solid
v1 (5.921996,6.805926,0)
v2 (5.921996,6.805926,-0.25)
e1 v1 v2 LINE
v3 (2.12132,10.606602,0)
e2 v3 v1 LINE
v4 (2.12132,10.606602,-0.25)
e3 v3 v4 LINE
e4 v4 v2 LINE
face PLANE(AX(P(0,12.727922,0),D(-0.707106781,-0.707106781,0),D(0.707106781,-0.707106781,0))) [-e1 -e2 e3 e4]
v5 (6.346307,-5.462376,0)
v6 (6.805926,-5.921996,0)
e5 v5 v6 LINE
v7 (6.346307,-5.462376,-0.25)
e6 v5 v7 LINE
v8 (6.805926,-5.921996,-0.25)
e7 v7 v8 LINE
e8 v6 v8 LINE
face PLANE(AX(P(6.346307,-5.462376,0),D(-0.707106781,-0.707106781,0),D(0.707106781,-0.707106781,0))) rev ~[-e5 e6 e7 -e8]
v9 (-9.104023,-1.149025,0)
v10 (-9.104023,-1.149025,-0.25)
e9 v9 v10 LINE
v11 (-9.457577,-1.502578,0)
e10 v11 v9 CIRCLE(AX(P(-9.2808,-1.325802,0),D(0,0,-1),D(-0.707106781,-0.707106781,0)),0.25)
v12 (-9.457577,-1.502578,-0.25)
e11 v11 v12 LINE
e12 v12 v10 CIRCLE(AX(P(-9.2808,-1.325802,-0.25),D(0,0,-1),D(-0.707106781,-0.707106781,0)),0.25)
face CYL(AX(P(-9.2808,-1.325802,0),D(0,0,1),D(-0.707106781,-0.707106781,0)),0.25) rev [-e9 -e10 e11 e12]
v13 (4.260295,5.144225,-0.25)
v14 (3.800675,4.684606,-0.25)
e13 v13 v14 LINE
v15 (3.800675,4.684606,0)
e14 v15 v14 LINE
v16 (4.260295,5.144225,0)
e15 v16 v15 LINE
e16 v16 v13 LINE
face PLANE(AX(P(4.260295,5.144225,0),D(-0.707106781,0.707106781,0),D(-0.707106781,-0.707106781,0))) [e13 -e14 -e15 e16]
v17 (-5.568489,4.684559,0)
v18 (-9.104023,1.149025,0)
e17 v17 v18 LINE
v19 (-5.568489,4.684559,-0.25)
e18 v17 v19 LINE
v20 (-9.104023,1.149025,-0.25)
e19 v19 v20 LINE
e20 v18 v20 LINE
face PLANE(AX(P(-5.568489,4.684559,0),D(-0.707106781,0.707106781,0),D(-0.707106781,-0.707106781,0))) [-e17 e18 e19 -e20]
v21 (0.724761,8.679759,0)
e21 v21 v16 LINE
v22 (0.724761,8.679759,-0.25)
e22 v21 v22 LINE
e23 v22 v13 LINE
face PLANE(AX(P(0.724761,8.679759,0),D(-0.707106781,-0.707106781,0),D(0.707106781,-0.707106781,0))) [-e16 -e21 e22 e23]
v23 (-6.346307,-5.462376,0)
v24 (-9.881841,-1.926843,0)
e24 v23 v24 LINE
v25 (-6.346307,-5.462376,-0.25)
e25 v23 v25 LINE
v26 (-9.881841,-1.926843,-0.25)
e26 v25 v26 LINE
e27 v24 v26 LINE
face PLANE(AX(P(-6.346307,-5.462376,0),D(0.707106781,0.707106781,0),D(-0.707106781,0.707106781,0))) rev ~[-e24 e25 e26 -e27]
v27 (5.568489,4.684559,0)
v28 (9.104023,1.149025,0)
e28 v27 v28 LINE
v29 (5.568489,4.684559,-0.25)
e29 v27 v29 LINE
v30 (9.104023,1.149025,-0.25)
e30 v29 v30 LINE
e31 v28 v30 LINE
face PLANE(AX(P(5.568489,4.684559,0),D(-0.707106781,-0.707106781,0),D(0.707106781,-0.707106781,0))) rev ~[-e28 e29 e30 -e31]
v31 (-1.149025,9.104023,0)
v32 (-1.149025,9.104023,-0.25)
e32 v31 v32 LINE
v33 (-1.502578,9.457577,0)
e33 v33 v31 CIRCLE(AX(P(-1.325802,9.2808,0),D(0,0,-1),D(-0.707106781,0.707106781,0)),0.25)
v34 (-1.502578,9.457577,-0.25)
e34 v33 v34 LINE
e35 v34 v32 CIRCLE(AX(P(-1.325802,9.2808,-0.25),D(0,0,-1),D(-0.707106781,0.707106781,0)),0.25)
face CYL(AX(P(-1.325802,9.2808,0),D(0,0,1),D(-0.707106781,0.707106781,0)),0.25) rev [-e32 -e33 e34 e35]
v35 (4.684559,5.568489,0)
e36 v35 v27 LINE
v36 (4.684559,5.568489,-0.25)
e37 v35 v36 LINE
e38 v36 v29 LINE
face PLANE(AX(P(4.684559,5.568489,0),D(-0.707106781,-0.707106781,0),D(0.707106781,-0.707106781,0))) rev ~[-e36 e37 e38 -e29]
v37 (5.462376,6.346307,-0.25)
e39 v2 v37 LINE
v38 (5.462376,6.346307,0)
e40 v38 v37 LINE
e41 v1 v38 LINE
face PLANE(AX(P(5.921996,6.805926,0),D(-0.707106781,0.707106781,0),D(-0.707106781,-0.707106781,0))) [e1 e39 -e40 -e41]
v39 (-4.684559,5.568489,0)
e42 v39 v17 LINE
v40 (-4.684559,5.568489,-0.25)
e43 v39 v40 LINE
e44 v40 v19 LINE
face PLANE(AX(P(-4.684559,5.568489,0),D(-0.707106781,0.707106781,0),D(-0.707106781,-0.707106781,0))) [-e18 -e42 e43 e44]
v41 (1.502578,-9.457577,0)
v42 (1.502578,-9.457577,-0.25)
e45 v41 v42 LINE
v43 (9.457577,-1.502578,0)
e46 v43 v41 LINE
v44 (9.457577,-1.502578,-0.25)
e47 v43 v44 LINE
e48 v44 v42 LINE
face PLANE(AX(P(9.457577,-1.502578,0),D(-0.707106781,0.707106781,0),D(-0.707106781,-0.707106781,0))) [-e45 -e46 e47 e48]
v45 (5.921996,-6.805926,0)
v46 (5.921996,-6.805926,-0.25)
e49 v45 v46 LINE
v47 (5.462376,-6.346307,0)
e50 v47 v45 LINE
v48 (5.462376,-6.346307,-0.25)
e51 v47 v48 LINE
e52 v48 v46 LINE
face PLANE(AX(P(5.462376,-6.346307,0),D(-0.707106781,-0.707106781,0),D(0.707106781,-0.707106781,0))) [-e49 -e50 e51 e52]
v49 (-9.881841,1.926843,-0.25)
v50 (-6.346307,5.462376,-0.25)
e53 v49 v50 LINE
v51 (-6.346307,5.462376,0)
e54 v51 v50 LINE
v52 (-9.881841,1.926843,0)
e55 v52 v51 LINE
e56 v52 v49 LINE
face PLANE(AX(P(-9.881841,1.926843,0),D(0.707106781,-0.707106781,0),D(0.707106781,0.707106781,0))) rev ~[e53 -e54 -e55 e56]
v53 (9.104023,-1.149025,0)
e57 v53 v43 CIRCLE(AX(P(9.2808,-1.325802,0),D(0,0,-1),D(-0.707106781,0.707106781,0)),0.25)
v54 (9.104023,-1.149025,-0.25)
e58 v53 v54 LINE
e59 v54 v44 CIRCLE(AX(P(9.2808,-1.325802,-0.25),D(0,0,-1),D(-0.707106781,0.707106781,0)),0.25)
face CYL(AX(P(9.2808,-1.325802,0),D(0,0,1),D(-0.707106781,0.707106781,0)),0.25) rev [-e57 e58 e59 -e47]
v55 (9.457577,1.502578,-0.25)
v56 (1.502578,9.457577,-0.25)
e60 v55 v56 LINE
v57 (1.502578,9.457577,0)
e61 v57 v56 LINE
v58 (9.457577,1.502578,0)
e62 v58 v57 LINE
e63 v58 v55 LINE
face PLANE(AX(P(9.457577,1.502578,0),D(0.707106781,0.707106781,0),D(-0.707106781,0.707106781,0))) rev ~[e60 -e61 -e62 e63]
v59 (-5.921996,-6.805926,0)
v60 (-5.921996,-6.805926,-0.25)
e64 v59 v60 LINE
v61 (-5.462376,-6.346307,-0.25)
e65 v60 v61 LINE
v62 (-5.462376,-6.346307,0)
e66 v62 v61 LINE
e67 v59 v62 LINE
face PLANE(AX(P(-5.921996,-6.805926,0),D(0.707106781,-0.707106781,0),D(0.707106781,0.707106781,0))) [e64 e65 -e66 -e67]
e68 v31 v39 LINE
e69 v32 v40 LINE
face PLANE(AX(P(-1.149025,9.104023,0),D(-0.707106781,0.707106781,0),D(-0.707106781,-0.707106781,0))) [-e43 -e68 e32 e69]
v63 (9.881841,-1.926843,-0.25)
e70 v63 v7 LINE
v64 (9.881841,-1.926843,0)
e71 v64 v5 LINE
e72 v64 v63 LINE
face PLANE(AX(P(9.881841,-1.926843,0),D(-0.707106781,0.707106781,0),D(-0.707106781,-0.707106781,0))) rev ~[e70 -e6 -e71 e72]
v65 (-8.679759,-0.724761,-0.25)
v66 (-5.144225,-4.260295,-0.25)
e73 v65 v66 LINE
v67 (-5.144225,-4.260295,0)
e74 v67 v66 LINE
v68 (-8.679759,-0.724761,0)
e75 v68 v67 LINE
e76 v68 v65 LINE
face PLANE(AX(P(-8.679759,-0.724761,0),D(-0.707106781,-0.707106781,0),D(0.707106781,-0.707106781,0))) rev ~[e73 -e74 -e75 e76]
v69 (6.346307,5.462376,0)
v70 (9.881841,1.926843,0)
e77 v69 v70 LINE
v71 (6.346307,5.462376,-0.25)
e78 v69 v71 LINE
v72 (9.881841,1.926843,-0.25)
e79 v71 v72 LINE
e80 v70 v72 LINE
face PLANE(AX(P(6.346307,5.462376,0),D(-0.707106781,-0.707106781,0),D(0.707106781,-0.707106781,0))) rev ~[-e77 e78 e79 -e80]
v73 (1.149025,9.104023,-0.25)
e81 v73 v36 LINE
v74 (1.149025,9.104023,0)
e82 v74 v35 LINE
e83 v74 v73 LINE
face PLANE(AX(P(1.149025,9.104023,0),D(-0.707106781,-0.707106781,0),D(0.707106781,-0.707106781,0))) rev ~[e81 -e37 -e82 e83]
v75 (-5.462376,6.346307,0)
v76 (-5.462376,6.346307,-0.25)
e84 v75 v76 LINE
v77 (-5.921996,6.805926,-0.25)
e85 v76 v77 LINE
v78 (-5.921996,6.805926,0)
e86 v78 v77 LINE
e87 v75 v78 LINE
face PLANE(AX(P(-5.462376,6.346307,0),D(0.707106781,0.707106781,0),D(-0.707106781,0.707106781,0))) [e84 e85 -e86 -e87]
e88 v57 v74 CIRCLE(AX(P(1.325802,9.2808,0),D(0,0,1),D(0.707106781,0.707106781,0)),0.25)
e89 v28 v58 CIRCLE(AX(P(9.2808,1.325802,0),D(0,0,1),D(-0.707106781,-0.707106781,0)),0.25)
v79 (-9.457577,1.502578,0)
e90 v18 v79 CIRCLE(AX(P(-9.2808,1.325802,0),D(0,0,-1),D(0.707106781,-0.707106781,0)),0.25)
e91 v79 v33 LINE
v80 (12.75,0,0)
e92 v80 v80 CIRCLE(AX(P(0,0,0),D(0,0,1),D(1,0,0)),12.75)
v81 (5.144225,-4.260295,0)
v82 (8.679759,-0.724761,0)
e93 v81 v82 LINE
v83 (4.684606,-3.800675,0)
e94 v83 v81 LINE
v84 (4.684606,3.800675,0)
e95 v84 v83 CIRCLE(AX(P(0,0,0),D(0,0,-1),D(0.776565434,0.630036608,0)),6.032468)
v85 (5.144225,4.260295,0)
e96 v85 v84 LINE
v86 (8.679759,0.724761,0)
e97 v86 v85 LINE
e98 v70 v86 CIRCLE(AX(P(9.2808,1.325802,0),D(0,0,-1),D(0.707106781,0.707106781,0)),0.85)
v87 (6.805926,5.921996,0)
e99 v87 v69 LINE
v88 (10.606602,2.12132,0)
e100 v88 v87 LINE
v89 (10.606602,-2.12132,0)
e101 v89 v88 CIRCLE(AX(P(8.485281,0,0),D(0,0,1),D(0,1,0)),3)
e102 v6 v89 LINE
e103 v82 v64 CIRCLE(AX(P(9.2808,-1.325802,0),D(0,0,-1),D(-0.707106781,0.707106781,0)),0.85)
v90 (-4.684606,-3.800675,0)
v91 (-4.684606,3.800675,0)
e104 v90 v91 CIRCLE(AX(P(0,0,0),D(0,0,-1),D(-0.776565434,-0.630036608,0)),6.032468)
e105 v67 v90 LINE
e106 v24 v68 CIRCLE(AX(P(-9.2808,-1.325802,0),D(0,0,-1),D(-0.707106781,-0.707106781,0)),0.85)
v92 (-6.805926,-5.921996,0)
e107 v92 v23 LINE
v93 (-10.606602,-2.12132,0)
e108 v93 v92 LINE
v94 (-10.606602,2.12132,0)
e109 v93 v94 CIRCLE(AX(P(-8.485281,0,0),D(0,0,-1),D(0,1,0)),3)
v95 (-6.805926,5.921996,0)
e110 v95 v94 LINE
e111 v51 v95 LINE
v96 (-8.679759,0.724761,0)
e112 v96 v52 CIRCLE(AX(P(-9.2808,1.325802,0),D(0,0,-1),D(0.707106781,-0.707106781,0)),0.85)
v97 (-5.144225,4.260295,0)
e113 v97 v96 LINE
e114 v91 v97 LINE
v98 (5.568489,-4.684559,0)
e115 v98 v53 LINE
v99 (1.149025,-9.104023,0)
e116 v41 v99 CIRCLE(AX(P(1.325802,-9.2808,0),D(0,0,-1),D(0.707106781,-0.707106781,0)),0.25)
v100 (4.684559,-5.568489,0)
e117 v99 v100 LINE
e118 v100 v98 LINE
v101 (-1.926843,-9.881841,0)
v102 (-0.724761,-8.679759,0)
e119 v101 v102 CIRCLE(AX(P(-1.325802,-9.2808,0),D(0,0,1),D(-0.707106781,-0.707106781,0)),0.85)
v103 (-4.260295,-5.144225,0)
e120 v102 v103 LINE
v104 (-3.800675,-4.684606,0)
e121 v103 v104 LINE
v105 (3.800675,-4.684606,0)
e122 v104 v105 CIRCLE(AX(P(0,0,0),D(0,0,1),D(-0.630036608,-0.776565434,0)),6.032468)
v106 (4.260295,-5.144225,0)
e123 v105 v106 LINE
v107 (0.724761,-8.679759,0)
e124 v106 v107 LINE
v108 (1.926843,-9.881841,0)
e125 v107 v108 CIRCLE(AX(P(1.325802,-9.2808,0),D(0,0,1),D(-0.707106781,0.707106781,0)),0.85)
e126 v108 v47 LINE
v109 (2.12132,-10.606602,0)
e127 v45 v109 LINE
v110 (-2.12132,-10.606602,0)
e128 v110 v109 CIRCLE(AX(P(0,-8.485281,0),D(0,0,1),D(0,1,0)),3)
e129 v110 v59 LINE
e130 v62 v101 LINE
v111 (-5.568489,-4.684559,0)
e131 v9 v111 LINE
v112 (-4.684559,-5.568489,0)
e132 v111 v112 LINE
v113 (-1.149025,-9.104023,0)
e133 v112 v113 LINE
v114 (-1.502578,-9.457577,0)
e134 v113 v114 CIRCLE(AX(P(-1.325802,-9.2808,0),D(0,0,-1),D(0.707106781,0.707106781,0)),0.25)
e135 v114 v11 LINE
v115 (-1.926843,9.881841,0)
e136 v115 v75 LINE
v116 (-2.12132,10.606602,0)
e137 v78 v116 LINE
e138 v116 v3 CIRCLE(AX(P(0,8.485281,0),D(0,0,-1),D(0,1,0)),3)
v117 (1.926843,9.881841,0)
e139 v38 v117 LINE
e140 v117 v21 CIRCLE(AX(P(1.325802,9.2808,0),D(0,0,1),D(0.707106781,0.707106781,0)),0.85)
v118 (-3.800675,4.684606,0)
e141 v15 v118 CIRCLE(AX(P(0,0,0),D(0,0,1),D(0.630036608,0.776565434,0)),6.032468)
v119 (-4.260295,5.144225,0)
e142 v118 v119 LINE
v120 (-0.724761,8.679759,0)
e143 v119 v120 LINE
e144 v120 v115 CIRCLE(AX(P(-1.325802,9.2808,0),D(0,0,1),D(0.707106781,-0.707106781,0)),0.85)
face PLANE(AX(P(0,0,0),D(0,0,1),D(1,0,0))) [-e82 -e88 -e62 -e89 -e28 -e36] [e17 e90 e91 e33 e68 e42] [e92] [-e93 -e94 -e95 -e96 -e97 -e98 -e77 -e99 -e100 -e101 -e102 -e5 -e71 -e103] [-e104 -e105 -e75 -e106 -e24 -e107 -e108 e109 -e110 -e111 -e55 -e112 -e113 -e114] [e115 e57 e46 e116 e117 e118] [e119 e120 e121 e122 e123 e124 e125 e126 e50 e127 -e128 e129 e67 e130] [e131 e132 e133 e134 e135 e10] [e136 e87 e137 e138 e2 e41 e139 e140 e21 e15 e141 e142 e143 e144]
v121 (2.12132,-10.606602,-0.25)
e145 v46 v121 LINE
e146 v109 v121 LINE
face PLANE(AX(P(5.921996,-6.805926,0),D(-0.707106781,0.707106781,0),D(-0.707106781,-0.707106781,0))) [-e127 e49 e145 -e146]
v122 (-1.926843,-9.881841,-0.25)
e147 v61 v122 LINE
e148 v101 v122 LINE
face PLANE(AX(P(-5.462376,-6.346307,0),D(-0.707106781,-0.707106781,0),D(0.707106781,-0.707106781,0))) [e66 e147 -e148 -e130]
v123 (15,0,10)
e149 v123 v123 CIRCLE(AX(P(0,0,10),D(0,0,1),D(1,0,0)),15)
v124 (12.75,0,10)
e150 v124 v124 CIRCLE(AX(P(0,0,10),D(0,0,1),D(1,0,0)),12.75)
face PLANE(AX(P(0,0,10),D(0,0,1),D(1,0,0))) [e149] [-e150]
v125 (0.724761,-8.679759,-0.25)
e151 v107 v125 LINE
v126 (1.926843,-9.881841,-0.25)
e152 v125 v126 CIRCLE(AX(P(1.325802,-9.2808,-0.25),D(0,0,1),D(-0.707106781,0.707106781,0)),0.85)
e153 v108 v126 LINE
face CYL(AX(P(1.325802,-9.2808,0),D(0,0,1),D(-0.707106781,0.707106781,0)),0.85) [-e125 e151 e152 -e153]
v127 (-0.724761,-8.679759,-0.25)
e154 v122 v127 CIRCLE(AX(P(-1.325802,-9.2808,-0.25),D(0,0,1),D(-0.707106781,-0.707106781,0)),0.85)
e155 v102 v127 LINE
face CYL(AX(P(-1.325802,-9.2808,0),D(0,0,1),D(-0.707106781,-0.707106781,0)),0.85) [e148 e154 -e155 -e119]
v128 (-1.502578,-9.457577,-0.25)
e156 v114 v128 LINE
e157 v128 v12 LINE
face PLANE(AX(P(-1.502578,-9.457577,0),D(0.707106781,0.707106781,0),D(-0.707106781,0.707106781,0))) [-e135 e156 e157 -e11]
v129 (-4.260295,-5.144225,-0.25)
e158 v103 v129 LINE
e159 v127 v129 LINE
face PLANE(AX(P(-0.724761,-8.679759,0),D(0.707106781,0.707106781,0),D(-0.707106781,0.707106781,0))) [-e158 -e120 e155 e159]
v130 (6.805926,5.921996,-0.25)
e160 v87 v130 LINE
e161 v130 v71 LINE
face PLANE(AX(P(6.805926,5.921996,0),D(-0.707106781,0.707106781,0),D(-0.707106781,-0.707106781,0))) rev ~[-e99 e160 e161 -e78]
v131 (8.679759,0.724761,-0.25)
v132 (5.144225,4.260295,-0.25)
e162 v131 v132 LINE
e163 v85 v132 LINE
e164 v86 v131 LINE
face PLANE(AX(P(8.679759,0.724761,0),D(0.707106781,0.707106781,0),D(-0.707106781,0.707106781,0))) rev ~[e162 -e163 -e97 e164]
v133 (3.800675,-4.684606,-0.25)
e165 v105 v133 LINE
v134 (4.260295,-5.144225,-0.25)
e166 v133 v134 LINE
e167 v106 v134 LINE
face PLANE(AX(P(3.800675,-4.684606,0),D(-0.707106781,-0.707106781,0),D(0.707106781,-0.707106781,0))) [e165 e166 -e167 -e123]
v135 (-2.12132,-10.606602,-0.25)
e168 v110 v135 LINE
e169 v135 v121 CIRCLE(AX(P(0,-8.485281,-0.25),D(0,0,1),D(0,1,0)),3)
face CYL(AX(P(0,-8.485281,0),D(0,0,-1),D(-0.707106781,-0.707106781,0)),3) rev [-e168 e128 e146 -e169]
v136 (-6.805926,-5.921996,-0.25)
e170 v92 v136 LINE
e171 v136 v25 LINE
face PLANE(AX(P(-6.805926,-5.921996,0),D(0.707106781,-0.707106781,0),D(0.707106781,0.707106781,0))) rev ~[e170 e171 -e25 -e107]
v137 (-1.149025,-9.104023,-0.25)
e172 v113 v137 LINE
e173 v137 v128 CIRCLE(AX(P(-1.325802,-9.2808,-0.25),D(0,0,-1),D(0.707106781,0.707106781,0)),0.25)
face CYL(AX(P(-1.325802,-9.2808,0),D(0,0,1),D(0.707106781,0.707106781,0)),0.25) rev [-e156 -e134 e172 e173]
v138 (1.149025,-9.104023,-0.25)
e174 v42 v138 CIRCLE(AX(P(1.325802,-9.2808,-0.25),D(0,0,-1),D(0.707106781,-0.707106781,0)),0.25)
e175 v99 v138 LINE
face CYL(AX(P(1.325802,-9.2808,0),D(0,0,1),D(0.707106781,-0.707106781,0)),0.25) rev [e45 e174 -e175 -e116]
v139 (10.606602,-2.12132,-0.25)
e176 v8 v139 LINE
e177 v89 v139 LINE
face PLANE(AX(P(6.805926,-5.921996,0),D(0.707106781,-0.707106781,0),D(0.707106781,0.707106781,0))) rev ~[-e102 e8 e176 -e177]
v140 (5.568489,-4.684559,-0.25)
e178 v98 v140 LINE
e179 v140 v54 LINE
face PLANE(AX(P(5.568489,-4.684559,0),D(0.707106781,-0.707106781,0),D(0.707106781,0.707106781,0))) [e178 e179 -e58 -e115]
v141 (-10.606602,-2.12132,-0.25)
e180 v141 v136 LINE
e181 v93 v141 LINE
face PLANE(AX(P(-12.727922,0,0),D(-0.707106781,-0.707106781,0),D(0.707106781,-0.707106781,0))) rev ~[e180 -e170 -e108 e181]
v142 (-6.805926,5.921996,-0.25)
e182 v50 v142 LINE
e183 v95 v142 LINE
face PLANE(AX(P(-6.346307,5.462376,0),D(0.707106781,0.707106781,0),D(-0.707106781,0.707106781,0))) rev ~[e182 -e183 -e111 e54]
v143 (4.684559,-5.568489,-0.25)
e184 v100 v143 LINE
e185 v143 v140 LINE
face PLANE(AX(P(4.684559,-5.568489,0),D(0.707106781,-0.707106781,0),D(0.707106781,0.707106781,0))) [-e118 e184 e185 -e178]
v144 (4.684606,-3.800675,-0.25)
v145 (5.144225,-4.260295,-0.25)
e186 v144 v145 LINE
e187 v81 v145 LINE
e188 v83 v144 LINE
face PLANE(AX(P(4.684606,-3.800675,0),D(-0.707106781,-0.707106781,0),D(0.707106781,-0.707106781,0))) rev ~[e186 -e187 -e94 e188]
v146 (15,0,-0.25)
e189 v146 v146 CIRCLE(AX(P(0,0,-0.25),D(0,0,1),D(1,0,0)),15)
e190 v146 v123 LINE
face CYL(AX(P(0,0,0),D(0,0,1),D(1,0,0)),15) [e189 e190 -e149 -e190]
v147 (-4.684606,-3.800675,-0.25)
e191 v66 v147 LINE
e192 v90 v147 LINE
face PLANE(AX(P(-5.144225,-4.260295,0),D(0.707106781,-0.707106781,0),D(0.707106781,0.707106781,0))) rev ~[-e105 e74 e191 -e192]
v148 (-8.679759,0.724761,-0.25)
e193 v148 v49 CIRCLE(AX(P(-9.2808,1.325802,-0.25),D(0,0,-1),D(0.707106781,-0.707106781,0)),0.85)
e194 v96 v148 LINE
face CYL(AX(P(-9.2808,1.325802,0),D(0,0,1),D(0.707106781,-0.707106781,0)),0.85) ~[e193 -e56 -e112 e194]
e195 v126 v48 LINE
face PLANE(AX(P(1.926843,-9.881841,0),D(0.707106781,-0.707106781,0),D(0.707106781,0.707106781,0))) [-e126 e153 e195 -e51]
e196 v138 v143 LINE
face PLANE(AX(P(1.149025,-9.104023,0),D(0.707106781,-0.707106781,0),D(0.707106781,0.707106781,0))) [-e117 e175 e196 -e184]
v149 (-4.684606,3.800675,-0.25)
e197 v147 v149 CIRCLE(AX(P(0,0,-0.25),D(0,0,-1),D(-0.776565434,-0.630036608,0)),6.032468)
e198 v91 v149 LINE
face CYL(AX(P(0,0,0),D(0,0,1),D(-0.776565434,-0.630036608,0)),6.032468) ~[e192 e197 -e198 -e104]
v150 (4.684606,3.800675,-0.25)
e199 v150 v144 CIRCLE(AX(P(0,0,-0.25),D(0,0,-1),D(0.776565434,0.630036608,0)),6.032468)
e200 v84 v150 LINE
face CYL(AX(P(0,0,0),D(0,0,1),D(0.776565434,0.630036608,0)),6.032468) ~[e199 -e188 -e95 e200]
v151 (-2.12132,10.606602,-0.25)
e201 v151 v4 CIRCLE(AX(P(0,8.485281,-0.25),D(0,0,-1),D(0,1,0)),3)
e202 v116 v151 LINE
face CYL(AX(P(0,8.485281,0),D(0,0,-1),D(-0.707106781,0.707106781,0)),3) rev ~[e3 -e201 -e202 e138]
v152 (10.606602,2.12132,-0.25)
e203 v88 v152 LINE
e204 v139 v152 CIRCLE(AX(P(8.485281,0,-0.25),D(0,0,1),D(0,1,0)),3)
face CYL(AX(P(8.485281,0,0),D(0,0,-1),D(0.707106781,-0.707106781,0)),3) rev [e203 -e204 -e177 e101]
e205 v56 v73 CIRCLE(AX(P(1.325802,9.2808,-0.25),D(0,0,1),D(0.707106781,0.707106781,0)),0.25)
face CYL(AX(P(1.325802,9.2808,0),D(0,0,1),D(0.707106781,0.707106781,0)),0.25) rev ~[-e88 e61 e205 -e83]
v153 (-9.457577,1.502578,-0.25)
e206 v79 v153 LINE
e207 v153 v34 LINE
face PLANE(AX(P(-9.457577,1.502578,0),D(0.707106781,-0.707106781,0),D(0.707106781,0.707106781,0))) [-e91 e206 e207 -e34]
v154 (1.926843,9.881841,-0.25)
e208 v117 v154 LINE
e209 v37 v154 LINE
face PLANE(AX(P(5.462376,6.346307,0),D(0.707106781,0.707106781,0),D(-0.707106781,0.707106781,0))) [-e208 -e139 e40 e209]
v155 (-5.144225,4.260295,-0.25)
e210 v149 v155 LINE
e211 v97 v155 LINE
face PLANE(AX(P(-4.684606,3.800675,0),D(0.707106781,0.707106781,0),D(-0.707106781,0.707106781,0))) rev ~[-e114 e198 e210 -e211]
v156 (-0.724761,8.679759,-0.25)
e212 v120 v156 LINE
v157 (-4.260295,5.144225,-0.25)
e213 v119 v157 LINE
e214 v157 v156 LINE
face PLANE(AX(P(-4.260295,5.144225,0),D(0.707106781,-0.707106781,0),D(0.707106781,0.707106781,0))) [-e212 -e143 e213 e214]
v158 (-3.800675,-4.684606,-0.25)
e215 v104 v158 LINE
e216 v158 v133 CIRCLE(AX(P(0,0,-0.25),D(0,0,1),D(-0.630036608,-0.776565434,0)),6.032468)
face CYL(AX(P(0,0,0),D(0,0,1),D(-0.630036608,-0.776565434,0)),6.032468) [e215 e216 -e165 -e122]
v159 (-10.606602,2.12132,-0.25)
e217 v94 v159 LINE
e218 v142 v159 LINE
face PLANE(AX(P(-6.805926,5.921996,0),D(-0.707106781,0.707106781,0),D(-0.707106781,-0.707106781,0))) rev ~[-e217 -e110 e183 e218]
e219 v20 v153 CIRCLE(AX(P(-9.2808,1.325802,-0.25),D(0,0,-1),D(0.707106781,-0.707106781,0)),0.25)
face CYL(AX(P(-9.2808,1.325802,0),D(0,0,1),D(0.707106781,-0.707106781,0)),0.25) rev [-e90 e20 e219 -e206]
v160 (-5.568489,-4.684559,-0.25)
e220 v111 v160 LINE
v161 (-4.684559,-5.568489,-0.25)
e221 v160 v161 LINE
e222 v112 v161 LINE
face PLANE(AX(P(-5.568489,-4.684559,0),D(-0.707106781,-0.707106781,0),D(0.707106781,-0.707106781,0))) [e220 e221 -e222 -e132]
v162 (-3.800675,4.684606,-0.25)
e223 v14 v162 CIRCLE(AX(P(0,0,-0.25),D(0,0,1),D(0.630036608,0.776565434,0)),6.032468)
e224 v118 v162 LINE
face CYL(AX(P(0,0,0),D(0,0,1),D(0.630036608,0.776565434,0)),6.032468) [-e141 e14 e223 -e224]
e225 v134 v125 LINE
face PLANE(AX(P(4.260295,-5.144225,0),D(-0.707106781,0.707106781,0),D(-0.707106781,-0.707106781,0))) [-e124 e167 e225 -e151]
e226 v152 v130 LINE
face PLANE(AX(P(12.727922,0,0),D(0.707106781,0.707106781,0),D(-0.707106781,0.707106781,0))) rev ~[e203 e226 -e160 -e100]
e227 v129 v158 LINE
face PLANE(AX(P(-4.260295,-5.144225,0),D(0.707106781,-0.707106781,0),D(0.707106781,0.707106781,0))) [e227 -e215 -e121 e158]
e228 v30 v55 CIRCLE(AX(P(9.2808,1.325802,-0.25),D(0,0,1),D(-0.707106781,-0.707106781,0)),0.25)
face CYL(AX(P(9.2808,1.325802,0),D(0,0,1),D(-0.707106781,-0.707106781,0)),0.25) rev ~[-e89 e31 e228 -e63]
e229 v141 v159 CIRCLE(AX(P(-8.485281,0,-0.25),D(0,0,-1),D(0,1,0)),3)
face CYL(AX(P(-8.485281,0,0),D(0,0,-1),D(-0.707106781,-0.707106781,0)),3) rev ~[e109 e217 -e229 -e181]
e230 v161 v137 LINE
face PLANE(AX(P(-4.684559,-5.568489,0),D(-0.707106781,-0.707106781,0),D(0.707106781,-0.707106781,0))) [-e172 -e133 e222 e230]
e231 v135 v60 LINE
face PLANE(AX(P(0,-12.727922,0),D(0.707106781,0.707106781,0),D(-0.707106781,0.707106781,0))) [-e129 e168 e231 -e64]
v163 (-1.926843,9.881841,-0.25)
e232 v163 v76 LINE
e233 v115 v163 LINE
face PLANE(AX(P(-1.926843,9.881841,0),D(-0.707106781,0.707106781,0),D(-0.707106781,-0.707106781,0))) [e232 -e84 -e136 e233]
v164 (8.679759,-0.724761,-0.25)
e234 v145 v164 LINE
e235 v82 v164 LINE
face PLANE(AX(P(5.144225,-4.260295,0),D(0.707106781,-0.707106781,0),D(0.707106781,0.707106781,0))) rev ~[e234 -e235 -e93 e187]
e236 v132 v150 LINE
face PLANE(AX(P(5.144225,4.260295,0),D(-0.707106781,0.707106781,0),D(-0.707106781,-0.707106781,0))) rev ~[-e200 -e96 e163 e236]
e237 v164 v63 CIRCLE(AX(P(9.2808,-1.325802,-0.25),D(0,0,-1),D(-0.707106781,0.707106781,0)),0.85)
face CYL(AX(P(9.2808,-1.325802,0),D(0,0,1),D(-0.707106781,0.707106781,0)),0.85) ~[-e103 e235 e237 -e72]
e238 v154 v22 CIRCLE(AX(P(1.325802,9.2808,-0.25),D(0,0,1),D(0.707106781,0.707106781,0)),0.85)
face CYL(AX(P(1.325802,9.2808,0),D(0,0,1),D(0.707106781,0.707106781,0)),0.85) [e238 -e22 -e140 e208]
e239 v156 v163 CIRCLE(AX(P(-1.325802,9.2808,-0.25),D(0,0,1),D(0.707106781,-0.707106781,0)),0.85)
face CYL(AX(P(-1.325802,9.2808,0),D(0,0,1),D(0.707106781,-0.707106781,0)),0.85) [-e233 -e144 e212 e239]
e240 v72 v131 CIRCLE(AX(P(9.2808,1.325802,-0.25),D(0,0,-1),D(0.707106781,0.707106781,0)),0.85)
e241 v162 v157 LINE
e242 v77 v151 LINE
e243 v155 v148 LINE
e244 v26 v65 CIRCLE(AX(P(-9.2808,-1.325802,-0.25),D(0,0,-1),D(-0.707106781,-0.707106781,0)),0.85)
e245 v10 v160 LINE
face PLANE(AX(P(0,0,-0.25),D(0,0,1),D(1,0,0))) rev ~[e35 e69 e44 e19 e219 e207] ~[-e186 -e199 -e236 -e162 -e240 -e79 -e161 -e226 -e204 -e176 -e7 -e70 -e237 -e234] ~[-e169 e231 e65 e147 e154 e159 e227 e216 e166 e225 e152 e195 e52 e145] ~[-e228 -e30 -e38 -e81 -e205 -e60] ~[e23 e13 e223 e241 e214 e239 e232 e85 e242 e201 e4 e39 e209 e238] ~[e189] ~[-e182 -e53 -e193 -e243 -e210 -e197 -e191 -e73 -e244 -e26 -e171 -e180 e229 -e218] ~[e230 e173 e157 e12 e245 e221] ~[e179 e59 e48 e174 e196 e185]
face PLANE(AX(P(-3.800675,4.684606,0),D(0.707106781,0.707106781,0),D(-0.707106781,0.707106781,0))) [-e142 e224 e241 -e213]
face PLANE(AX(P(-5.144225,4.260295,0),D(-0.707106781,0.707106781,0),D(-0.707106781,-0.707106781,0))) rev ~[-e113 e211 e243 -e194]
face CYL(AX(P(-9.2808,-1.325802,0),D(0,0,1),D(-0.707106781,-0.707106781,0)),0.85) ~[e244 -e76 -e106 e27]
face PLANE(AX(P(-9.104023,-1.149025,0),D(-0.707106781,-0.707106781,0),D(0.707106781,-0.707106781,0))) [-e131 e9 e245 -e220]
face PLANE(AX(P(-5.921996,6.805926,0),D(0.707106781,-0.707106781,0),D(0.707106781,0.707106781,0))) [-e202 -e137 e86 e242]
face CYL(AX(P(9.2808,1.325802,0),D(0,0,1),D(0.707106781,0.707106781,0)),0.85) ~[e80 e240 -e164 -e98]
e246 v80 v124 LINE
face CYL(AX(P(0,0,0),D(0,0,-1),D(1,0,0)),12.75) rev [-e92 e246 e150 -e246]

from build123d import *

# Parameters (mm, degrees)
SKETCH1_R           = 15
SKETCH1_R_2         = 12.75
BOSS_EXTRUDE1_DEPTH = 10
SKETCH2_R           = 15
BOSS_EXTRUDE2_DEPTH = 0.25
FILLET1_R           = 3


with BuildPart() as part:
    # Sketch1 → Boss-Extrude1 (new body)
    with BuildSketch(Plane.XY):
        Circle(SKETCH1_R)
        Circle(SKETCH1_R_2, mode=Mode.SUBTRACT)
    extrude(amount=BOSS_EXTRUDE1_DEPTH)

    # Sketch2 → Boss-Extrude2 (add)
    with BuildSketch(Plane.XY):
        Circle(SKETCH2_R)
        with BuildLine():
            Line((5.922042758, 5.03811235), (5.03811235, 5.922042758))
            Line((5.03811235, 5.922042758), (1.502578444, 9.457576664))
            ThreePointArc((1.502578444, 9.457576664), (1.149025054, 9.457576664), (1.149025054, 9.104023274))
            Line((1.149025054, 9.104023274), (4.684558959, 5.568489368))
            Line((4.684558959, 5.568489368), (5.568489368, 4.684558959))
            Line((5.568489368, 4.684558959), (9.104023274, 1.149025054))
            ThreePointArc((9.104023274, 1.149025054), (9.457576664, 1.149025054), (9.457576664, 1.502578444))
            Line((9.457576664, 1.502578444), (5.922042758, 5.03811235))
        make_face(mode=Mode.SUBTRACT)
        with BuildLine():
            Line((6.346306827, 5.462376419), (9.881840733, 1.926842513))
            ThreePointArc((9.881840733, 1.926842513), (9.881840733, 0.724760985), (8.679759205, 0.724760985))
            Line((8.679759205, 0.724760985), (5.144225299, 4.260294891))
            Line((5.144225299, 4.260294891), (4.684605891, 3.800675483))
            ThreePointArc((4.684605891, 3.800675483), (6.032467694, 0), (4.684605891, -3.800675483))
            Line((4.684605891, -3.800675483), (5.144225299, -4.260294891))
            Line((5.144225299, -4.260294891), (8.679759205, -0.724760985))
            ThreePointArc((8.679759205, -0.724760985), (9.881840733, -0.724760985), (9.881840733, -1.926842513))
            Line((9.881840733, -1.926842513), (6.346306827, -5.462376419))
            Line((6.346306827, -5.462376419), (6.805926235, -5.921995827))
            Line((6.805926235, -5.921995827), (12.727922061, 0))
            Line((12.727922061, 0), (6.805926235, 5.921995827))
            Line((6.805926235, 5.921995827), (6.346306827, 5.462376419))
        make_face(mode=Mode.SUBTRACT)
        with BuildLine():
            Line((5.462376419, 6.346306827), (1.926842513, 9.881840733))
            ThreePointArc((1.926842513, 9.881840733), (0.724760985, 9.881840733), (0.724760985, 8.679759205))
            Line((0.724760985, 8.679759205), (4.260294891, 5.144225299))
            Line((4.260294891, 5.144225299), (3.800675483, 4.684605891))
            ThreePointArc((3.800675483, 4.684605891), (0, 6.032467694), (-3.800675483, 4.684605891))
            Line((-3.800675483, 4.684605891), (-4.260294891, 5.144225299))
            Line((-4.260294891, 5.144225299), (-0.724760985, 8.679759205))
            ThreePointArc((-0.724760985, 8.679759205), (-0.724760985, 9.881840733), (-1.926842513, 9.881840733))
            Line((-1.926842513, 9.881840733), (-5.462376419, 6.346306827))
            Line((-5.462376419, 6.346306827), (-5.921995827, 6.805926235))
            Line((-5.921995827, 6.805926235), (0, 12.727922061))
            Line((0, 12.727922061), (5.921995827, 6.805926235))
            Line((5.921995827, 6.805926235), (5.462376419, 6.346306827))
        make_face(mode=Mode.SUBTRACT)
        with BuildLine():
            Line((-5.568489368, 4.684558959), (-9.104023274, 1.149025054))
            ThreePointArc((-9.104023274, 1.149025054), (-9.457576664, 1.149025054), (-9.457576664, 1.502578444))
            Line((-9.457576664, 1.502578444), (-5.922042758, 5.03811235))
            Line((-5.922042758, 5.03811235), (-5.03811235, 5.922042758))
            Line((-5.03811235, 5.922042758), (-1.502578444, 9.457576664))
            ThreePointArc((-1.502578444, 9.457576664), (-1.149025054, 9.457576664), (-1.149025054, 9.104023274))
            Line((-1.149025054, 9.104023274), (-4.684558959, 5.568489368))
            Line((-4.684558959, 5.568489368), (-5.568489368, 4.684558959))
        make_face(mode=Mode.SUBTRACT)
        with BuildLine():
            Line((-6.346306827, 5.462376419), (-6.805926235, 5.921995827))
            Line((-6.805926235, 5.921995827), (-12.727922061, 0))
            Line((-12.727922061, 0), (-6.805926235, -5.921995827))
            Line((-6.805926235, -5.921995827), (-6.346306827, -5.462376419))
            Line((-6.346306827, -5.462376419), (-9.881840733, -1.926842513))
            ThreePointArc((-9.881840733, -1.926842513), (-9.881840733, -0.724760985), (-8.679759205, -0.724760985))
            Line((-8.679759205, -0.724760985), (-5.144225299, -4.260294891))
            Line((-5.144225299, -4.260294891), (-4.684605891, -3.800675483))
            ThreePointArc((-4.684605891, -3.800675483), (-6.032467694, 0), (-4.684605891, 3.800675483))
            Line((-4.684605891, 3.800675483), (-5.144225299, 4.260294891))
            Line((-5.144225299, 4.260294891), (-8.679759205, 0.724760985))
            ThreePointArc((-8.679759205, 0.724760985), (-9.881840733, 0.724760985), (-9.881840733, 1.926842513))
            Line((-9.881840733, 1.926842513), (-6.346306827, 5.462376419))
        make_face(mode=Mode.SUBTRACT)
        with BuildLine():
            Line((5.462376419, -6.346306827), (5.921995827, -6.805926235))
            Line((5.921995827, -6.805926235), (0, -12.727922061))
            Line((0, -12.727922061), (-5.921995827, -6.805926235))
            Line((-5.921995827, -6.805926235), (-5.462376419, -6.346306827))
            Line((-5.462376419, -6.346306827), (-1.926842513, -9.881840733))
            ThreePointArc((-1.926842513, -9.881840733), (-0.724760985, -9.881840733), (-0.724760985, -8.679759205))
            Line((-0.724760985, -8.679759205), (-4.260294891, -5.144225299))
            Line((-4.260294891, -5.144225299), (-3.800675483, -4.684605891))
            ThreePointArc((-3.800675483, -4.684605891), (0, -6.032467694), (3.800675483, -4.684605891))
            Line((3.800675483, -4.684605891), (4.260294891, -5.144225299))
            Line((4.260294891, -5.144225299), (0.724760985, -8.679759205))
            ThreePointArc((0.724760985, -8.679759205), (0.724760985, -9.881840733), (1.926842513, -9.881840733))
            Line((1.926842513, -9.881840733), (5.462376419, -6.346306827))
        make_face(mode=Mode.SUBTRACT)
        with BuildLine():
            Line((5.568489368, -4.684558959), (9.104023274, -1.149025054))
            ThreePointArc((9.104023274, -1.149025054), (9.457576664, -1.149025054), (9.457576664, -1.502578444))
            Line((9.457576664, -1.502578444), (5.922042758, -5.03811235))
            Line((5.922042758, -5.03811235), (5.03811235, -5.922042758))
            Line((5.03811235, -5.922042758), (1.502578444, -9.457576664))
            ThreePointArc((1.502578444, -9.457576664), (1.149025054, -9.457576664), (1.149025054, -9.104023274))
            Line((1.149025054, -9.104023274), (4.684558959, -5.568489368))
            Line((4.684558959, -5.568489368), (5.568489368, -4.684558959))
        make_face(mode=Mode.SUBTRACT)
        with BuildLine():
            Line((-5.568489368, -4.684558959), (-4.684558959, -5.568489368))
            Line((-4.684558959, -5.568489368), (-1.149025054, -9.104023274))
            ThreePointArc((-1.149025054, -9.104023274), (-1.149025054, -9.457576664), (-1.502578444, -9.457576664))
            Line((-1.502578444, -9.457576664), (-5.03811235, -5.922042758))
            Line((-5.03811235, -5.922042758), (-5.922042758, -5.03811235))
            Line((-5.922042758, -5.03811235), (-9.457576664, -1.502578444))
            ThreePointArc((-9.457576664, -1.502578444), (-9.457576664, -1.149025054), (-9.104023274, -1.149025054))
            Line((-9.104023274, -1.149025054), (-5.568489368, -4.684558959))
        make_face(mode=Mode.SUBTRACT)
    extrude(amount=-BOSS_EXTRUDE2_DEPTH)

    # Fillet1
    fillet1_edges = [part.edges().sort_by_distance(p)[0] for p in [
        (0, -12.727922061, -0.125),
        (-12.727922061, 0, -0.125),
        (0, 12.727922061, -0.125),
        (12.727922061, 0, -0.125),
    ]]
    fillet(fillet1_edges, radius=FILLET1_R)


solid = part.part
